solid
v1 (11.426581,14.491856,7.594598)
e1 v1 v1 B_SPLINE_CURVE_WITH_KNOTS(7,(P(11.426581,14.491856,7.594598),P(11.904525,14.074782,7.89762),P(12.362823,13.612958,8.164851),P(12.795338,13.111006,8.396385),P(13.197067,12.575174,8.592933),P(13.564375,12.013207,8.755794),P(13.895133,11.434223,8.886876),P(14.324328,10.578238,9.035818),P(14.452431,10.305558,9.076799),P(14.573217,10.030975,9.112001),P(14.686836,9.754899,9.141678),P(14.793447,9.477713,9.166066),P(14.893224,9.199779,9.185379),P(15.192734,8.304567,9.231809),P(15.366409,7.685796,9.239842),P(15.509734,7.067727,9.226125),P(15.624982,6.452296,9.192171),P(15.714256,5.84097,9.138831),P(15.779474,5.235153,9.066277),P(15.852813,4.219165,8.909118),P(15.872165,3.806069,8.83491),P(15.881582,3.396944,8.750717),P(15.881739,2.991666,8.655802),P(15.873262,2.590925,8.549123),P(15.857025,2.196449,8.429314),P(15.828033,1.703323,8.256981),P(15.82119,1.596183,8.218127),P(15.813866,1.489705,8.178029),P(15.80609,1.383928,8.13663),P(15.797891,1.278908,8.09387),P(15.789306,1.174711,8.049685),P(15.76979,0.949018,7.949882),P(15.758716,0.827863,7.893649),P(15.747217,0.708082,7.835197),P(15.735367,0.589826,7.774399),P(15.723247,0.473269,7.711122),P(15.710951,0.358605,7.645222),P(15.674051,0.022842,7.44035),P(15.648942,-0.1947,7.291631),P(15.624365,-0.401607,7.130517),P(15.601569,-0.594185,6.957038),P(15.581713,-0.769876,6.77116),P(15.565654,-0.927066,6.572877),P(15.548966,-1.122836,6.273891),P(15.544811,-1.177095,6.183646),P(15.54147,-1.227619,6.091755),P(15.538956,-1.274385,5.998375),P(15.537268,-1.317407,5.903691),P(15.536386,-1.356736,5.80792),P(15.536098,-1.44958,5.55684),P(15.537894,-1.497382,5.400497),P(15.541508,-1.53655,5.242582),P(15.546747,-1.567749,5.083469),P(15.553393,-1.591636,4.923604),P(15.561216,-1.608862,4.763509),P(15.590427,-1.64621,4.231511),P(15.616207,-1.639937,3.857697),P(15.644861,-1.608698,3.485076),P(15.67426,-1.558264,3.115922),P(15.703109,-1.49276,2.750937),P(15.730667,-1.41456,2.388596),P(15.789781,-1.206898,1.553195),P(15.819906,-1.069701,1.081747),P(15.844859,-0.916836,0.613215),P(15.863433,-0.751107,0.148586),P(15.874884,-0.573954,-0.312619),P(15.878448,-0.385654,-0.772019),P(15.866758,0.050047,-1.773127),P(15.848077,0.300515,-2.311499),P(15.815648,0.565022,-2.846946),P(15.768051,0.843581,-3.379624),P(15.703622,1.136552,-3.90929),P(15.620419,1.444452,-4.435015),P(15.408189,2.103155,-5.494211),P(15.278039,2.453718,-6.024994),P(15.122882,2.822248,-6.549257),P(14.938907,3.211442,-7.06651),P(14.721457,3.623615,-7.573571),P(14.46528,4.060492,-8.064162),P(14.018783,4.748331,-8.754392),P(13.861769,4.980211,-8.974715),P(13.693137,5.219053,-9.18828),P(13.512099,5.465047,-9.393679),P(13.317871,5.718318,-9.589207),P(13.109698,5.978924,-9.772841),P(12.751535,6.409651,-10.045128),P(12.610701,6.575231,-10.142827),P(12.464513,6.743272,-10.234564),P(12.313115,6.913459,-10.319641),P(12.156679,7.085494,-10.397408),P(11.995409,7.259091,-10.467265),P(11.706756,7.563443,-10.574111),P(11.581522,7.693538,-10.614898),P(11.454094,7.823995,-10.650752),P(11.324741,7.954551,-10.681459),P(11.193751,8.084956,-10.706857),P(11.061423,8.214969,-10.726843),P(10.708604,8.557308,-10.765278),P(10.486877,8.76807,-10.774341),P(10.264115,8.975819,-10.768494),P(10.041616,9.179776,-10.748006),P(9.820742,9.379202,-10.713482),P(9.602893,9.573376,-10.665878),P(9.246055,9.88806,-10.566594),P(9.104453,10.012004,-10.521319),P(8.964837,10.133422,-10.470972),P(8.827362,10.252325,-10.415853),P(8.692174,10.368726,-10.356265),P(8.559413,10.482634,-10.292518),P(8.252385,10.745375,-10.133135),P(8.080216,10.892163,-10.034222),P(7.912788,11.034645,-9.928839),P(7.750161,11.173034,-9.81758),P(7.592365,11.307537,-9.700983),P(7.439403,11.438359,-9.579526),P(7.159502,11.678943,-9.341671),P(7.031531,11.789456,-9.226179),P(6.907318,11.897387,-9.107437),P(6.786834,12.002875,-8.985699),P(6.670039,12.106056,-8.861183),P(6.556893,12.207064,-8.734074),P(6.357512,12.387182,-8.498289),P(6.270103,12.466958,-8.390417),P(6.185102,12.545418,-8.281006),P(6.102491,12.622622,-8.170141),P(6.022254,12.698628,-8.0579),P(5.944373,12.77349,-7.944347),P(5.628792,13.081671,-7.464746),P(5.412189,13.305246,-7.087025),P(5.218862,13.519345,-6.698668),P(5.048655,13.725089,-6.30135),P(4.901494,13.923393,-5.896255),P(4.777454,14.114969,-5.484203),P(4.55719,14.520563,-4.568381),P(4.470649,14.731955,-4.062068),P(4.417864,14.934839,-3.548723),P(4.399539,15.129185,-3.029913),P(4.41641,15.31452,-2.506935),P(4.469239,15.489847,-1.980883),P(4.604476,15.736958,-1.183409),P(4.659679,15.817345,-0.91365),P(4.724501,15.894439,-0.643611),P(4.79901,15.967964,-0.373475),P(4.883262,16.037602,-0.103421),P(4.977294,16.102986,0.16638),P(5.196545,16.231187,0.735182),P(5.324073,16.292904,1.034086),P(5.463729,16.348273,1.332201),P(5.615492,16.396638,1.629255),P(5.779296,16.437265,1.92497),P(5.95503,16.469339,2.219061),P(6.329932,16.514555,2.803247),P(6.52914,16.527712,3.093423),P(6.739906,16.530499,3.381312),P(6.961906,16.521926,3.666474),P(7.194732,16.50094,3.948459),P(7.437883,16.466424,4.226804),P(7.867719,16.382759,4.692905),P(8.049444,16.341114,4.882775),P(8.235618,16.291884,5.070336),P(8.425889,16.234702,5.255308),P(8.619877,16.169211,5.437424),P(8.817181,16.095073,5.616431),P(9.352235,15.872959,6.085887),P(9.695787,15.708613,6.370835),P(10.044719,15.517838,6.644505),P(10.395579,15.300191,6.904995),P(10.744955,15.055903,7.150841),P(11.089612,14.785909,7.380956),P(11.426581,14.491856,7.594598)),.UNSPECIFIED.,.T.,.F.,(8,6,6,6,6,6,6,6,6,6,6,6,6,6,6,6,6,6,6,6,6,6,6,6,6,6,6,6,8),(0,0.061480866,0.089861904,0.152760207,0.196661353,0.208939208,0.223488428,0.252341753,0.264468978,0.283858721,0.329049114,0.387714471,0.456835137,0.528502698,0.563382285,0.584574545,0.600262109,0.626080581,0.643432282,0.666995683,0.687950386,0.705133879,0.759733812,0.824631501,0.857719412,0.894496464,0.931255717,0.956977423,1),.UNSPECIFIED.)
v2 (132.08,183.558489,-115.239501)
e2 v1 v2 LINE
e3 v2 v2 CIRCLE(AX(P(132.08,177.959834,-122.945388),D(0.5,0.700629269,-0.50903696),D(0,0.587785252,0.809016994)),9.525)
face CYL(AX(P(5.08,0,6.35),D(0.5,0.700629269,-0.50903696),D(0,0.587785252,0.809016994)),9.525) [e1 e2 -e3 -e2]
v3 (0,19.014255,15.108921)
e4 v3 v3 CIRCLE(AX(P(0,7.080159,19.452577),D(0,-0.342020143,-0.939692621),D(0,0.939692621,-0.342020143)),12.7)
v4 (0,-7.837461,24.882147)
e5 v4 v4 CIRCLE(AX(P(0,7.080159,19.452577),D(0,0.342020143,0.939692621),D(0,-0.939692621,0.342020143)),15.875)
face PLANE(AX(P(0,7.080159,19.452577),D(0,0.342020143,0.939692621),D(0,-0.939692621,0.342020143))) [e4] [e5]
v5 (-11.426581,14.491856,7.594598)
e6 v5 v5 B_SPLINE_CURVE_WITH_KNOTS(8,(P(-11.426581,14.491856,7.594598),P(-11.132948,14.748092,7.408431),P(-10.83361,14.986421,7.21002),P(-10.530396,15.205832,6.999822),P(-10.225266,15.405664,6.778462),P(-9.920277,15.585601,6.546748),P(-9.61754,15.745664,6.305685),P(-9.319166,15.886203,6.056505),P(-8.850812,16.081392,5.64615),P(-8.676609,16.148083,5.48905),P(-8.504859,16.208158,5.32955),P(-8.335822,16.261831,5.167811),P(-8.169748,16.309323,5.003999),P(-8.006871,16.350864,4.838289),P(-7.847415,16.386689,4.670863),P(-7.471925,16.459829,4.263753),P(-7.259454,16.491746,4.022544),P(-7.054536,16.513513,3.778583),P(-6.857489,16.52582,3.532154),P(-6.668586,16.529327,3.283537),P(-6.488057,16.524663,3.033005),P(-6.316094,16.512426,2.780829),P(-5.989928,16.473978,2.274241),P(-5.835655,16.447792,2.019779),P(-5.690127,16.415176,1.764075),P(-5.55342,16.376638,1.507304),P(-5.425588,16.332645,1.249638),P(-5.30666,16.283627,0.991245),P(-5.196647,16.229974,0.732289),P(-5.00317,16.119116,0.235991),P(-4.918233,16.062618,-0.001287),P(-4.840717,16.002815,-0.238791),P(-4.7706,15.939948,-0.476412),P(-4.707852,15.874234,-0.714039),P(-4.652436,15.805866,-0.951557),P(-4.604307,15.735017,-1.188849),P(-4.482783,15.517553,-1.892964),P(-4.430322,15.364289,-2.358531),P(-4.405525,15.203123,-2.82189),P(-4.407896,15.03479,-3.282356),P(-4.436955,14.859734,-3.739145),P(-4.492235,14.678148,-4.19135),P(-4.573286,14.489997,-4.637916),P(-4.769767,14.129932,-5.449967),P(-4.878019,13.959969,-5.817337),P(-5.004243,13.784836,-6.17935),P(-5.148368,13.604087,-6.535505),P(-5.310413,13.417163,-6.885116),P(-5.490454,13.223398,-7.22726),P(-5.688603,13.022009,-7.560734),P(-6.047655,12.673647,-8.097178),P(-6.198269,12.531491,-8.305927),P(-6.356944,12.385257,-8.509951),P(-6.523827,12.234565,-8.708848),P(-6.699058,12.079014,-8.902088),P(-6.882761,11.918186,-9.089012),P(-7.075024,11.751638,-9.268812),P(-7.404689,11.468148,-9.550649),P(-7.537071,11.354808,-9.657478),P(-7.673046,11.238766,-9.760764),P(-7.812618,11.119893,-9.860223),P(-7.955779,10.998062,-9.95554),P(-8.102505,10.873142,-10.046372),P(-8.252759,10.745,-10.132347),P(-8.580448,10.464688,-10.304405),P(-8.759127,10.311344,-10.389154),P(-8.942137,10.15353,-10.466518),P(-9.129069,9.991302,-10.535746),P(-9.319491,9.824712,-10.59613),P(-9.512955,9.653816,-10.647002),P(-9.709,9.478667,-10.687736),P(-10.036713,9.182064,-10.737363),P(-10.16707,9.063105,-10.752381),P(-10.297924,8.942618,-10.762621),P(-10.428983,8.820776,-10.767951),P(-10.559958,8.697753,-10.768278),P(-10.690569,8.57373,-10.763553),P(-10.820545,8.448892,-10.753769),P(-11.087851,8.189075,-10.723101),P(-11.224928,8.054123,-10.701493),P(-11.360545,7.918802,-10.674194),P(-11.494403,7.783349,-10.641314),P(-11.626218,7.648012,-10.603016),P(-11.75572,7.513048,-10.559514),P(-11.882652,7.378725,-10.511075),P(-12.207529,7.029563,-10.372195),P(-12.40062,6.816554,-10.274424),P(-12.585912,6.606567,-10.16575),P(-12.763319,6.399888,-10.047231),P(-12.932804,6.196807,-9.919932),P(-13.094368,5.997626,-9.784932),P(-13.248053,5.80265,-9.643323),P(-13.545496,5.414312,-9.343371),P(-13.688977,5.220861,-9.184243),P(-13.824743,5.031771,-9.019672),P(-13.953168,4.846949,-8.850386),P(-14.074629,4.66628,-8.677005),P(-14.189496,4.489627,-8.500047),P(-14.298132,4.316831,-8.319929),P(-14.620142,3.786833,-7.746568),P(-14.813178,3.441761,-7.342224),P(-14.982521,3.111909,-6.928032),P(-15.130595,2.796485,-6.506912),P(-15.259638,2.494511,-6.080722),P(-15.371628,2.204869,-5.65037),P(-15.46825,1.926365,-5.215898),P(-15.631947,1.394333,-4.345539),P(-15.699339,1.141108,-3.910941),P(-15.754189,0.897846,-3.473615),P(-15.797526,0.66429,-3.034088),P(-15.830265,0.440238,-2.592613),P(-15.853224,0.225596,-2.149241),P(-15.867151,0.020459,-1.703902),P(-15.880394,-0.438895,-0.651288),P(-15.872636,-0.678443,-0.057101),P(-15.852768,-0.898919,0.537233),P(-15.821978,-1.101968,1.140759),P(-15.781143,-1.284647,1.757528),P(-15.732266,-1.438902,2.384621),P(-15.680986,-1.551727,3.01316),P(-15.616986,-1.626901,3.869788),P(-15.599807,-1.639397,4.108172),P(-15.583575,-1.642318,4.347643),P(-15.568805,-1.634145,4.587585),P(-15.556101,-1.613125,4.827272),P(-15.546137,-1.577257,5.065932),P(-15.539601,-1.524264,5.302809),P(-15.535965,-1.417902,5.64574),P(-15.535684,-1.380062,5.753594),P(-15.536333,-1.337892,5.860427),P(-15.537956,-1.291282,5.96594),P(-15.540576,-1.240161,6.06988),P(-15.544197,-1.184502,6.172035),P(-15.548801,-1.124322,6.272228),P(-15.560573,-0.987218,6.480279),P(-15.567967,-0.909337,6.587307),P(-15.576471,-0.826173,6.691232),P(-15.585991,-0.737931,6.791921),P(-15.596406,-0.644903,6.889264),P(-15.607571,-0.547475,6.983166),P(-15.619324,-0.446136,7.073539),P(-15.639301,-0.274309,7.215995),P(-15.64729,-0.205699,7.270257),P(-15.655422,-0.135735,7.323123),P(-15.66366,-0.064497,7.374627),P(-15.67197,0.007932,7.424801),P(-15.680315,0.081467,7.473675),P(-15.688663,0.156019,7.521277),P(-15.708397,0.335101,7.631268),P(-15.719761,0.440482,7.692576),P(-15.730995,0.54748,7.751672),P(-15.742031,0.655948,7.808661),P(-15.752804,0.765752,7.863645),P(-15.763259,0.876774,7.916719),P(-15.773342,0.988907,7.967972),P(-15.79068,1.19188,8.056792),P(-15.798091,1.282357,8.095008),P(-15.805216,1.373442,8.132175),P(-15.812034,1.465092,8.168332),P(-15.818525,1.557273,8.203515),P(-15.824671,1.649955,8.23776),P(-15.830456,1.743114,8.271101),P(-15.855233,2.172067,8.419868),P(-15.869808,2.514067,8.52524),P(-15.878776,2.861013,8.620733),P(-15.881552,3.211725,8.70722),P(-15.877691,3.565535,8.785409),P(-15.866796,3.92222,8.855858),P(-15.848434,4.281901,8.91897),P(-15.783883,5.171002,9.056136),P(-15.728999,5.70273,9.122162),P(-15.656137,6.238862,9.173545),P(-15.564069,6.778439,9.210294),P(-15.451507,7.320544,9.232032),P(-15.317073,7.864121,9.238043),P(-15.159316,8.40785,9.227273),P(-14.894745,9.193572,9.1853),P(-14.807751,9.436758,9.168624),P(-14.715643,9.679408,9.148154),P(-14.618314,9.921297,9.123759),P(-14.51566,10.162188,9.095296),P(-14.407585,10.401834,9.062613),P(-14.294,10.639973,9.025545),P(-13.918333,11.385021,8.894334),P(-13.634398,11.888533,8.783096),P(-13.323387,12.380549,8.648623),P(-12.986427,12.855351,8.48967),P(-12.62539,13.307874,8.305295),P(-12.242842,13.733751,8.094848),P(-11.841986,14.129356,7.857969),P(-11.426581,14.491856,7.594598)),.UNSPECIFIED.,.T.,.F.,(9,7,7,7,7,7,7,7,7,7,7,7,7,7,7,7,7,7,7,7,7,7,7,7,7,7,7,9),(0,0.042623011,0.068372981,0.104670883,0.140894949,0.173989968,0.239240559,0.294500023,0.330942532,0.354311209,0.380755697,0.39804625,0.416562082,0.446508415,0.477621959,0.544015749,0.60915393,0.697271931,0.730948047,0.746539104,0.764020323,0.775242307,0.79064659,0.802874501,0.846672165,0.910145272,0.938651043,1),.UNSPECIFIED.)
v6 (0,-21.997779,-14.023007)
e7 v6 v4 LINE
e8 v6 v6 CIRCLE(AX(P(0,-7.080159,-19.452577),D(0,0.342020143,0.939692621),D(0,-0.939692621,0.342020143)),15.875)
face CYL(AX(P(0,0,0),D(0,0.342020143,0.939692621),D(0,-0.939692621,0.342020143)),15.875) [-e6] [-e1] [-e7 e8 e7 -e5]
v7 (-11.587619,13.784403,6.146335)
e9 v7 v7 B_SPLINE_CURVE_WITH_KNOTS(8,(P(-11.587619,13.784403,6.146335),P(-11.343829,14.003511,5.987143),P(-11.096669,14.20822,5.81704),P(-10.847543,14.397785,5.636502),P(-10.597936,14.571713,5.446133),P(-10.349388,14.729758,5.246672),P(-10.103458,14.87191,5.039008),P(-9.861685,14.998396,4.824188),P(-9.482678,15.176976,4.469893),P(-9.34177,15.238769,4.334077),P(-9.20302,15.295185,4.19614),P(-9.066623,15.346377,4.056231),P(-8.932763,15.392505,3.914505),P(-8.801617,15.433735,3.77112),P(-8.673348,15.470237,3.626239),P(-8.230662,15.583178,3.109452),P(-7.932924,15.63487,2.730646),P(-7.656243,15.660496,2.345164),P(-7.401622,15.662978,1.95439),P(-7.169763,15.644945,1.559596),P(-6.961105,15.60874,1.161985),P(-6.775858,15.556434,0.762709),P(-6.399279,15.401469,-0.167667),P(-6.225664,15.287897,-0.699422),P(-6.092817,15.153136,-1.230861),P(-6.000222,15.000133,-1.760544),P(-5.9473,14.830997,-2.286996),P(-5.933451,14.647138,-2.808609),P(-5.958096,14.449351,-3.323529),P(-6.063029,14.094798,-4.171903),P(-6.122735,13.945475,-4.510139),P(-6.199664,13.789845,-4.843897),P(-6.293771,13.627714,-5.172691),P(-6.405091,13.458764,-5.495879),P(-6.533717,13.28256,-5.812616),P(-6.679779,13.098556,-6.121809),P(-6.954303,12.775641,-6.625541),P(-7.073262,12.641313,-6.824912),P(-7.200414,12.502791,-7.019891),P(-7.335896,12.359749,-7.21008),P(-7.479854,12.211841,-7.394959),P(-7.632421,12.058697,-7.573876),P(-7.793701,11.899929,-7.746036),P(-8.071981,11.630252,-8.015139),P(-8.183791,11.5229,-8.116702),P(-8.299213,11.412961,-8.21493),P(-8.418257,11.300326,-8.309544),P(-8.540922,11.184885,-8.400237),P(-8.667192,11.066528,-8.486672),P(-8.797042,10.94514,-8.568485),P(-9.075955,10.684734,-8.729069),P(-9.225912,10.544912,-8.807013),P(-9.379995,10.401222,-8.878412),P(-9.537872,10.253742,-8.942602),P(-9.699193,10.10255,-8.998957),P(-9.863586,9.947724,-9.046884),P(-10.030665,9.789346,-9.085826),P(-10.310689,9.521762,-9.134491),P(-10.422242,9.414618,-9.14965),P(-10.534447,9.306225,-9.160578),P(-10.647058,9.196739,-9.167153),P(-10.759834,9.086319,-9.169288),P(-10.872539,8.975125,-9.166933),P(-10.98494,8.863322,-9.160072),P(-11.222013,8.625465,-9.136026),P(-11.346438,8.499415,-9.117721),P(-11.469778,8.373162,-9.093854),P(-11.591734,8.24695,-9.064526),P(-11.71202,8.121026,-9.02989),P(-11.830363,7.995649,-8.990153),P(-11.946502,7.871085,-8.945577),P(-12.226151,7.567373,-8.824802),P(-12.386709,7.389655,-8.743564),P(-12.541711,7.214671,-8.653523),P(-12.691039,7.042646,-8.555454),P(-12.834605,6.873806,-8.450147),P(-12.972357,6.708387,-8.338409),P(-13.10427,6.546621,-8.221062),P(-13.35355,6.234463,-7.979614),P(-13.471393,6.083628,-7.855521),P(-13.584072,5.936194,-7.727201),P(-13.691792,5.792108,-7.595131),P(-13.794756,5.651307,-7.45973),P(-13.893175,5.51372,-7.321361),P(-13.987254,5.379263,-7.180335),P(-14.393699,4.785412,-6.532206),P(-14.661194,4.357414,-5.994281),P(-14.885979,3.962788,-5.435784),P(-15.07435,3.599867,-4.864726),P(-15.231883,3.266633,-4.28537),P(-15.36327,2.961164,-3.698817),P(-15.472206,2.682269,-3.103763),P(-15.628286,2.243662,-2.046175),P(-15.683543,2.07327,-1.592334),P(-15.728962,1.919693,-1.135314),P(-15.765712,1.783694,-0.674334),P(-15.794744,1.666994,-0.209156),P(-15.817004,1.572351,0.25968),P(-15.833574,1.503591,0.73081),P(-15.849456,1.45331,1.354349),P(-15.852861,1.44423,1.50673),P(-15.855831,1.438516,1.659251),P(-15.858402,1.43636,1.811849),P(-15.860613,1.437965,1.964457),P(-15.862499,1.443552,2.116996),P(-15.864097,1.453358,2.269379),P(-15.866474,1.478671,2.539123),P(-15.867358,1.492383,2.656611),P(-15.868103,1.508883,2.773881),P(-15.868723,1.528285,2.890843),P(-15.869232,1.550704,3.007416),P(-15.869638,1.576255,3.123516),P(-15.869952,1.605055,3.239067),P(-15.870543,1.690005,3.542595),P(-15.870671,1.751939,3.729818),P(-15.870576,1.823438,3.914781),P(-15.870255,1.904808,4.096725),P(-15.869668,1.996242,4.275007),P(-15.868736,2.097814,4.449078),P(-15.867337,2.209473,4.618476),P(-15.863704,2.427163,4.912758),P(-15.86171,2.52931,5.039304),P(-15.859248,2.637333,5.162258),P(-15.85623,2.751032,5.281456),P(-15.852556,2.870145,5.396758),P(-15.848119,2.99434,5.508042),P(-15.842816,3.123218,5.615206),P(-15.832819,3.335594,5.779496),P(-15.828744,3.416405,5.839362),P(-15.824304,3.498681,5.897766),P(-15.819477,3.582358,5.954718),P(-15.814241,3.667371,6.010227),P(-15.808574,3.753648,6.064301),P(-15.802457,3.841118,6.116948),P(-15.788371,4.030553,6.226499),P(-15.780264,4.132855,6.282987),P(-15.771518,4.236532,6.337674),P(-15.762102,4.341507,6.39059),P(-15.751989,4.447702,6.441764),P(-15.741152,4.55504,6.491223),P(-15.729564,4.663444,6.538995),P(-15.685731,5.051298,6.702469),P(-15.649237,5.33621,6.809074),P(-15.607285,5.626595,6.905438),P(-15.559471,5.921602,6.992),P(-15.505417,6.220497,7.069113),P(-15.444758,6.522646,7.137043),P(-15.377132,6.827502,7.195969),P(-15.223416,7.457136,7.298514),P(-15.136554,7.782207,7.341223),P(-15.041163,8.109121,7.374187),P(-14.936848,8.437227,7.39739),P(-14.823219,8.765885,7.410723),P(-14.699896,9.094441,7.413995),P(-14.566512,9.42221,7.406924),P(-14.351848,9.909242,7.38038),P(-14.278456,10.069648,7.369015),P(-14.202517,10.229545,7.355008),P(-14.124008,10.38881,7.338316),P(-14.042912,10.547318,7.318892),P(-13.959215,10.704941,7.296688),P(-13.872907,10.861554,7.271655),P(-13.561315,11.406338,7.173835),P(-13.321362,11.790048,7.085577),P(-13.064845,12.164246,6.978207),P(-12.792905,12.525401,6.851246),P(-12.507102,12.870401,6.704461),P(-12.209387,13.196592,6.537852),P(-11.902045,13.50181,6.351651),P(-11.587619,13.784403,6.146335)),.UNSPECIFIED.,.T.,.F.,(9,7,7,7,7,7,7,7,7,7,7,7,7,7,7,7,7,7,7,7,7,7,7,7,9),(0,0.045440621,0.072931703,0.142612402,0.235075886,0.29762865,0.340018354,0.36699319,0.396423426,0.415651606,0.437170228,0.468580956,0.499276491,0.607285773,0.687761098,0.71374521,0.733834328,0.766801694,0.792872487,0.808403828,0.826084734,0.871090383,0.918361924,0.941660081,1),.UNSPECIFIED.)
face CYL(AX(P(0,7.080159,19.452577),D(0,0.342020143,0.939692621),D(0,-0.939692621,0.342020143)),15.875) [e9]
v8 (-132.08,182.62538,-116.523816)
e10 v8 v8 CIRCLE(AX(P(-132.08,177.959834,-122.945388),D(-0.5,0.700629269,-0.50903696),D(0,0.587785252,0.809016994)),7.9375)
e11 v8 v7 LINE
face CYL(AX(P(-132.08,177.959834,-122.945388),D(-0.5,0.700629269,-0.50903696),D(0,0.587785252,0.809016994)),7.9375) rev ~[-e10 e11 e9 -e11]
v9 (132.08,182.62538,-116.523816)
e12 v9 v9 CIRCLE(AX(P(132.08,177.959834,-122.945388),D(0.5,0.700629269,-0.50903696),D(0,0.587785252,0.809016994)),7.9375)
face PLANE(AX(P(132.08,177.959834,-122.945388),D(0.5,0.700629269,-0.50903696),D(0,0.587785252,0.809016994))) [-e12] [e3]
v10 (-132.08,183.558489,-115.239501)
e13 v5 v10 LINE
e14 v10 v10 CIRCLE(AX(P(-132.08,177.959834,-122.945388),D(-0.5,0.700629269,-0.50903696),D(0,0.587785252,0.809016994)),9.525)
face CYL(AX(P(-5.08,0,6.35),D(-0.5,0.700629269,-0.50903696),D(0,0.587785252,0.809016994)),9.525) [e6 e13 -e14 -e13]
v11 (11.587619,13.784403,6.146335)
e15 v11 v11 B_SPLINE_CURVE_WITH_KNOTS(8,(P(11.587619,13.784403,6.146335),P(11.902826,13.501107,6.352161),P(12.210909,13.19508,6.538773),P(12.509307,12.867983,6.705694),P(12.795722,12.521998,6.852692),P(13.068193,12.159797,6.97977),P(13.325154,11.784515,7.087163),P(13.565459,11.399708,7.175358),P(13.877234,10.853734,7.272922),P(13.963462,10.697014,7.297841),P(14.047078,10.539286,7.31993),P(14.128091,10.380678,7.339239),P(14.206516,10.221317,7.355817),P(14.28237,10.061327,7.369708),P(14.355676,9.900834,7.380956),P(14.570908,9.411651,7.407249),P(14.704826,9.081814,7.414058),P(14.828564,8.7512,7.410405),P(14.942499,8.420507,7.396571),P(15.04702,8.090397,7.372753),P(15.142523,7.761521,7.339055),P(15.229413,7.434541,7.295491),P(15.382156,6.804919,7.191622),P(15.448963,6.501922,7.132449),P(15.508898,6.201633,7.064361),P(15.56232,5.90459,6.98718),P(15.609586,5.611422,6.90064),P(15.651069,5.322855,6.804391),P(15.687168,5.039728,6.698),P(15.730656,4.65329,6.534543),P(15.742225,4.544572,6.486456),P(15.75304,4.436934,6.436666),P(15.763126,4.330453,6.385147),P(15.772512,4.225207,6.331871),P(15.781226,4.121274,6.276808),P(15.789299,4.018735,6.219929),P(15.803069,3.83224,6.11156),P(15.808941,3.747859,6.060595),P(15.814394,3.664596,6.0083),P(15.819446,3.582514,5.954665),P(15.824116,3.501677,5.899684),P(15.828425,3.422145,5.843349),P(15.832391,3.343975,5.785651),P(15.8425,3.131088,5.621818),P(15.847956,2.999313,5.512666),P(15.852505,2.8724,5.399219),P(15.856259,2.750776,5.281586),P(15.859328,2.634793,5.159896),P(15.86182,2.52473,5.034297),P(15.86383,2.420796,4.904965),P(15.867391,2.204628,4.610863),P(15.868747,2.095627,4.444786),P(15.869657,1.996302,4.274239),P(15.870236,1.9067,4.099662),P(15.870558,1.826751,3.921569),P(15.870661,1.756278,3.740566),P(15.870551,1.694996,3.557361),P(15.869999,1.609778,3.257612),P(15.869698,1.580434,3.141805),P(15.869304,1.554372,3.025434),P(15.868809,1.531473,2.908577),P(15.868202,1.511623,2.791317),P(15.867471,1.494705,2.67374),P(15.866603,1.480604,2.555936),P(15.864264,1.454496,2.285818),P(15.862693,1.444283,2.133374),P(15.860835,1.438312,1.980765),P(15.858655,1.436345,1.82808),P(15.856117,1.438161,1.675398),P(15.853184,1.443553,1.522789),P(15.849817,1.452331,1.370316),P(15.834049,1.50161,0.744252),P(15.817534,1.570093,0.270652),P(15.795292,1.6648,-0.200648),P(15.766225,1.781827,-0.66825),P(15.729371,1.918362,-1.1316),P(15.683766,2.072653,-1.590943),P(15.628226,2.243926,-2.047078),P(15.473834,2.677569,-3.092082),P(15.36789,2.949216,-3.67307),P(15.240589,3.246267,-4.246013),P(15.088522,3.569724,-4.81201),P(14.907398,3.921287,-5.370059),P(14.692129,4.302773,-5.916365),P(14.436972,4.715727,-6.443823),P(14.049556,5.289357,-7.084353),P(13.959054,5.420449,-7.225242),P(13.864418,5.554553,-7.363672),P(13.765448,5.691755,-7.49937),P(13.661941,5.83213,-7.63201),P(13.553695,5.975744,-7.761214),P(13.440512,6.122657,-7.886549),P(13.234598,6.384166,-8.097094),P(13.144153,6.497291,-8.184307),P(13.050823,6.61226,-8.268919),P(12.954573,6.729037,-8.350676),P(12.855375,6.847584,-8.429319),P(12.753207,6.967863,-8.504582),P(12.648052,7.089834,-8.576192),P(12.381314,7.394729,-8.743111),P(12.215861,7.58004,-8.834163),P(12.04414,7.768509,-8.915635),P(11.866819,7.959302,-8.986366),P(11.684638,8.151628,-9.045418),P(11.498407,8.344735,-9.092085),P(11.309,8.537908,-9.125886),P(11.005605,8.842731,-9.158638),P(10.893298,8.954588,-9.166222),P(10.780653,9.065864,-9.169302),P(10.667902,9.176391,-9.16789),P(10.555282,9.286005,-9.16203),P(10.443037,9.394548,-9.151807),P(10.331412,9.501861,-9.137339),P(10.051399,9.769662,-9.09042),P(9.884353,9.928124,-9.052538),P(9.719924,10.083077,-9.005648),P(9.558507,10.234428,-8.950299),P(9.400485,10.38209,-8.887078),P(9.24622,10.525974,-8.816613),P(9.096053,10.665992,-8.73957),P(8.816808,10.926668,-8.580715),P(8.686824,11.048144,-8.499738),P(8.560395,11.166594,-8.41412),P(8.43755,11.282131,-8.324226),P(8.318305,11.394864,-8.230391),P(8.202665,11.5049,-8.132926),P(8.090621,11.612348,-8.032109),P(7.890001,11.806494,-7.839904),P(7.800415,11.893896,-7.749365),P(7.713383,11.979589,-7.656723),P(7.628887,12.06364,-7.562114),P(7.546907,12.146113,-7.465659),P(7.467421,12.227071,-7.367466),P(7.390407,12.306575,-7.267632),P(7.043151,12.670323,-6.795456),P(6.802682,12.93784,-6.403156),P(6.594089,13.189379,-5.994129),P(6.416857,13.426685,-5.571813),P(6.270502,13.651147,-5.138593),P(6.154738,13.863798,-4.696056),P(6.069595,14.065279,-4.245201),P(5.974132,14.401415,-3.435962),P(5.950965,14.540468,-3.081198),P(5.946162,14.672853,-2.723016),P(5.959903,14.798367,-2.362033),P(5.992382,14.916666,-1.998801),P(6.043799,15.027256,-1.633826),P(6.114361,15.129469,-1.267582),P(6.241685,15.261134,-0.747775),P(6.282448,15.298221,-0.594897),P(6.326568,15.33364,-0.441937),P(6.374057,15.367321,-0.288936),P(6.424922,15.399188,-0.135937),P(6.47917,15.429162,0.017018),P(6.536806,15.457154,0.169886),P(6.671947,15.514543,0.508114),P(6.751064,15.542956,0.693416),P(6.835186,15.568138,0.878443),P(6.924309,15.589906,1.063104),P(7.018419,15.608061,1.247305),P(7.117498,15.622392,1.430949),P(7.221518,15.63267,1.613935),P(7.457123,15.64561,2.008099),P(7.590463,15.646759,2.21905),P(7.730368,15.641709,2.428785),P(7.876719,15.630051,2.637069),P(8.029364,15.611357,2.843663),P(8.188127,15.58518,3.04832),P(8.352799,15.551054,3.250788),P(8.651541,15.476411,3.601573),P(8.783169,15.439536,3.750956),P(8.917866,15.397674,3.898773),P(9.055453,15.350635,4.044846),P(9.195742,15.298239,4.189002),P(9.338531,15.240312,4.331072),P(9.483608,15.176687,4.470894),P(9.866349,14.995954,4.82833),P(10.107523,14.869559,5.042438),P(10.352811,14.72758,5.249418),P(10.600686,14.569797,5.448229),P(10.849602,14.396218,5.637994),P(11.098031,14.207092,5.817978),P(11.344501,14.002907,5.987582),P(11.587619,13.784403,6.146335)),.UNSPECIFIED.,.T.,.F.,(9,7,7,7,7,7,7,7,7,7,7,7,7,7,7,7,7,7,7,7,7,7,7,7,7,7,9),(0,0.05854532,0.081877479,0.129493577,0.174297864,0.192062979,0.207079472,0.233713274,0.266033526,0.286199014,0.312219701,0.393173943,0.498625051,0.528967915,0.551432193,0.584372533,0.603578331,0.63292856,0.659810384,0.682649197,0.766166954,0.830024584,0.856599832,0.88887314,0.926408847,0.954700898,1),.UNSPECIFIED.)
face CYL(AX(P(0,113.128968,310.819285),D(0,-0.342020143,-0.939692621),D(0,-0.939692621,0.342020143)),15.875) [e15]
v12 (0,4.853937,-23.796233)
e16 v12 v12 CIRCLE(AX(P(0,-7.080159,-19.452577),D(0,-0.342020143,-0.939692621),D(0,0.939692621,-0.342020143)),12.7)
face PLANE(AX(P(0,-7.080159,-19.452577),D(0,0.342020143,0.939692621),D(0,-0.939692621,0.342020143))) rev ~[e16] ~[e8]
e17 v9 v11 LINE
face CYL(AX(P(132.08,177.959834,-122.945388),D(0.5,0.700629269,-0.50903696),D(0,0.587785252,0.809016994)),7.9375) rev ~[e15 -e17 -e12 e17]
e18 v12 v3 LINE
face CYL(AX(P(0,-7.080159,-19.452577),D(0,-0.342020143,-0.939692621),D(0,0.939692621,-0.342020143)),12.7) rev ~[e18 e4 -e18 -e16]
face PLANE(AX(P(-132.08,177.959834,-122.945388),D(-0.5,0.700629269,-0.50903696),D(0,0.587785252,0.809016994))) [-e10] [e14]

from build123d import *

# Parameters (mm, degrees)
SKETCH1_R               = 15.875
BOSS_EXTRUDE1_DEPTH     = 20.701
SWEEP1_PROFILE_R        = 9.525
SWEEP2_PROFILE_R        = 9.525
CUT_EXTRUDE2_REACH      = 369.057
SKETCH36_R              = 7.9375
CUT_EXTRUDE3_REACH      = 369.057
CUT_EXTRUDE3_END_RADIUS = 15.875
SKETCH37_R              = 7.9375
SKETCH77_R              = 15.875
BOSS_EXTRUDE2_DEPTH     = 41.402
CUT_EXTRUDE1_REACH      = 264.618
SKETCH2_R               = 12.7


with BuildPart() as part:
    # Sketch1 → Boss-Extrude1 (new, symmetric)
    with BuildSketch(Plane(origin=(0, 0, 0), x_dir=(1, 0, 0), z_dir=(0, 0.34202014332566943, 0.9396926207859081))):
        with Locations(Location((0, 0, 0), (0, 0, 270))):
            Circle(SKETCH1_R)
    extrude(amount=BOSS_EXTRUDE1_DEPTH, both=True)

    # Sweep1: sweep along a path in Sketch4
    with BuildLine(Plane(origin=(0, 3.019604439, 4.156128957), x_dir=(1, 0, 0), z_dir=(0, 0.5877852522924744, 0.8090169943749467))) as sweep1_path:
        Line((-5.08, -3.732436352), (-132.08, 216.238016209))
    # Sweep1 profile (on start of the path) → Sweep1 (sweep)
    with BuildSketch(Plane(origin=(-5.08, 0, 6.35), x_dir=(0, 0.5877852522924744, 0.8090169943749466), z_dir=(-0.5000000000000013, 0.7006292692220355, -0.5090369604551278))):
        Circle(SWEEP1_PROFILE_R)
    sweep(path=sweep1_path.line)

    # Sweep2: sweep along a path in Sketch15
    with BuildLine(Plane(origin=(0, 3.019604439, 4.156128957), x_dir=(1, 0, 0), z_dir=(0, 0.5877852522924744, 0.8090169943749467))) as sweep2_path:
        Line((5.08, -3.732436352), (132.08, 216.238016209))
    # Sweep2 profile (on start of the path) → Sweep2 (sweep)
    with BuildSketch(Plane(origin=(5.08, 0, 6.35), x_dir=(0, 0.5877852522924744, 0.8090169943749466), z_dir=(0.500000000000001, 0.7006292692220356, -0.5090369604551279))):
        Circle(SWEEP2_PROFILE_R)
    sweep(path=sweep2_path.line)

    # Sketch36 → Cut-Extrude2 (cut, up to next)
    with BuildSketch(Plane(origin=(-126.653807651, 177.474729397, -128.942938553), x_dir=(0.8655546227004349, 0.3849101606410903, -0.32040499895781577), z_dir=(-0.500000000000001, 0.7006292692220356, -0.5090369604551278)), mode=Mode.PRIVATE) as cut_extrude2_sk1:
        with Locations(Location((-6.431589227, -4.927896453, 0), (0, 0, 268.110697529))):
            Circle(SKETCH36_R)
    cut_extrude2_tool1 = extrude(cut_extrude2_sk1.sketch, amount=-CUT_EXTRUDE2_REACH, mode=Mode.PRIVATE) & part.part
    add(cut_extrude2_tool1.solids().sort_by_distance((-132.08, 177.959834, -122.945388))[0], mode=Mode.SUBTRACT)

    # Cut-Extrude3: up to this cylinder (the profile starts outside it)
    cut_extrude3_end = Plane(origin=(0, -18.696540004, -51.368321484), z_dir=(0, -0.34202014332566943, -0.9396926207859081)) * Cylinder(CUT_EXTRUDE3_END_RADIUS, 770.864, mode=Mode.PRIVATE)
    # Sketch37 → Cut-Extrude3 (cut, up to the surface)
    with BuildSketch(Plane(origin=(126.653807651, 177.474729397, -128.942938553), x_dir=(0.865554622700435, -0.3849101606410899, 0.3204049989578159), z_dir=(0.5000000000000008, 0.7006292692220356, -0.5090369604551279)), mode=Mode.PRIVATE) as cut_extrude3_sk1:
        with Locations(Location((6.431589227, -4.927896453, 0), (0, 0, 271.889302471))):
            Circle(SKETCH37_R)
    cut_extrude3_tool1 = extrude(cut_extrude3_sk1.sketch, amount=-CUT_EXTRUDE3_REACH, mode=Mode.PRIVATE) - cut_extrude3_end
    add(cut_extrude3_tool1.solids().sort_by_distance((132.08, 177.959834, -122.945388))[0], mode=Mode.SUBTRACT)

    # Sketch77 → Boss-Extrude2 (add)
    with BuildSketch(Plane(origin=(0, 7.080158987, 19.452576943), x_dir=(1, 0, 0), z_dir=(0, 0.34202014332566943, 0.9396926207859082))):
        with Locations(Location((0, 0, 0), (0, 0, 270))):
            Circle(SKETCH77_R)
    extrude(amount=-BOSS_EXTRUDE2_DEPTH)

    # Sketch2 → Cut-Extrude1 (cut, up to next)
    with BuildSketch(Plane(origin=(0, -7.080158987, -19.452576943), x_dir=(-1, 0, 0), z_dir=(0, -0.34202014332566943, -0.9396926207859081)), mode=Mode.PRIVATE) as cut_extrude1_sk1:
        with Locations(Location((0, 0, 0), (0, 0, 90))):
            Circle(SKETCH2_R)
    cut_extrude1_tool1 = extrude(cut_extrude1_sk1.sketch, amount=-CUT_EXTRUDE1_REACH, mode=Mode.PRIVATE) & part.part
    add(cut_extrude1_tool1.solids().sort_by_distance((0, -7.080159, -19.452577))[0], mode=Mode.SUBTRACT)


solid = part.part
